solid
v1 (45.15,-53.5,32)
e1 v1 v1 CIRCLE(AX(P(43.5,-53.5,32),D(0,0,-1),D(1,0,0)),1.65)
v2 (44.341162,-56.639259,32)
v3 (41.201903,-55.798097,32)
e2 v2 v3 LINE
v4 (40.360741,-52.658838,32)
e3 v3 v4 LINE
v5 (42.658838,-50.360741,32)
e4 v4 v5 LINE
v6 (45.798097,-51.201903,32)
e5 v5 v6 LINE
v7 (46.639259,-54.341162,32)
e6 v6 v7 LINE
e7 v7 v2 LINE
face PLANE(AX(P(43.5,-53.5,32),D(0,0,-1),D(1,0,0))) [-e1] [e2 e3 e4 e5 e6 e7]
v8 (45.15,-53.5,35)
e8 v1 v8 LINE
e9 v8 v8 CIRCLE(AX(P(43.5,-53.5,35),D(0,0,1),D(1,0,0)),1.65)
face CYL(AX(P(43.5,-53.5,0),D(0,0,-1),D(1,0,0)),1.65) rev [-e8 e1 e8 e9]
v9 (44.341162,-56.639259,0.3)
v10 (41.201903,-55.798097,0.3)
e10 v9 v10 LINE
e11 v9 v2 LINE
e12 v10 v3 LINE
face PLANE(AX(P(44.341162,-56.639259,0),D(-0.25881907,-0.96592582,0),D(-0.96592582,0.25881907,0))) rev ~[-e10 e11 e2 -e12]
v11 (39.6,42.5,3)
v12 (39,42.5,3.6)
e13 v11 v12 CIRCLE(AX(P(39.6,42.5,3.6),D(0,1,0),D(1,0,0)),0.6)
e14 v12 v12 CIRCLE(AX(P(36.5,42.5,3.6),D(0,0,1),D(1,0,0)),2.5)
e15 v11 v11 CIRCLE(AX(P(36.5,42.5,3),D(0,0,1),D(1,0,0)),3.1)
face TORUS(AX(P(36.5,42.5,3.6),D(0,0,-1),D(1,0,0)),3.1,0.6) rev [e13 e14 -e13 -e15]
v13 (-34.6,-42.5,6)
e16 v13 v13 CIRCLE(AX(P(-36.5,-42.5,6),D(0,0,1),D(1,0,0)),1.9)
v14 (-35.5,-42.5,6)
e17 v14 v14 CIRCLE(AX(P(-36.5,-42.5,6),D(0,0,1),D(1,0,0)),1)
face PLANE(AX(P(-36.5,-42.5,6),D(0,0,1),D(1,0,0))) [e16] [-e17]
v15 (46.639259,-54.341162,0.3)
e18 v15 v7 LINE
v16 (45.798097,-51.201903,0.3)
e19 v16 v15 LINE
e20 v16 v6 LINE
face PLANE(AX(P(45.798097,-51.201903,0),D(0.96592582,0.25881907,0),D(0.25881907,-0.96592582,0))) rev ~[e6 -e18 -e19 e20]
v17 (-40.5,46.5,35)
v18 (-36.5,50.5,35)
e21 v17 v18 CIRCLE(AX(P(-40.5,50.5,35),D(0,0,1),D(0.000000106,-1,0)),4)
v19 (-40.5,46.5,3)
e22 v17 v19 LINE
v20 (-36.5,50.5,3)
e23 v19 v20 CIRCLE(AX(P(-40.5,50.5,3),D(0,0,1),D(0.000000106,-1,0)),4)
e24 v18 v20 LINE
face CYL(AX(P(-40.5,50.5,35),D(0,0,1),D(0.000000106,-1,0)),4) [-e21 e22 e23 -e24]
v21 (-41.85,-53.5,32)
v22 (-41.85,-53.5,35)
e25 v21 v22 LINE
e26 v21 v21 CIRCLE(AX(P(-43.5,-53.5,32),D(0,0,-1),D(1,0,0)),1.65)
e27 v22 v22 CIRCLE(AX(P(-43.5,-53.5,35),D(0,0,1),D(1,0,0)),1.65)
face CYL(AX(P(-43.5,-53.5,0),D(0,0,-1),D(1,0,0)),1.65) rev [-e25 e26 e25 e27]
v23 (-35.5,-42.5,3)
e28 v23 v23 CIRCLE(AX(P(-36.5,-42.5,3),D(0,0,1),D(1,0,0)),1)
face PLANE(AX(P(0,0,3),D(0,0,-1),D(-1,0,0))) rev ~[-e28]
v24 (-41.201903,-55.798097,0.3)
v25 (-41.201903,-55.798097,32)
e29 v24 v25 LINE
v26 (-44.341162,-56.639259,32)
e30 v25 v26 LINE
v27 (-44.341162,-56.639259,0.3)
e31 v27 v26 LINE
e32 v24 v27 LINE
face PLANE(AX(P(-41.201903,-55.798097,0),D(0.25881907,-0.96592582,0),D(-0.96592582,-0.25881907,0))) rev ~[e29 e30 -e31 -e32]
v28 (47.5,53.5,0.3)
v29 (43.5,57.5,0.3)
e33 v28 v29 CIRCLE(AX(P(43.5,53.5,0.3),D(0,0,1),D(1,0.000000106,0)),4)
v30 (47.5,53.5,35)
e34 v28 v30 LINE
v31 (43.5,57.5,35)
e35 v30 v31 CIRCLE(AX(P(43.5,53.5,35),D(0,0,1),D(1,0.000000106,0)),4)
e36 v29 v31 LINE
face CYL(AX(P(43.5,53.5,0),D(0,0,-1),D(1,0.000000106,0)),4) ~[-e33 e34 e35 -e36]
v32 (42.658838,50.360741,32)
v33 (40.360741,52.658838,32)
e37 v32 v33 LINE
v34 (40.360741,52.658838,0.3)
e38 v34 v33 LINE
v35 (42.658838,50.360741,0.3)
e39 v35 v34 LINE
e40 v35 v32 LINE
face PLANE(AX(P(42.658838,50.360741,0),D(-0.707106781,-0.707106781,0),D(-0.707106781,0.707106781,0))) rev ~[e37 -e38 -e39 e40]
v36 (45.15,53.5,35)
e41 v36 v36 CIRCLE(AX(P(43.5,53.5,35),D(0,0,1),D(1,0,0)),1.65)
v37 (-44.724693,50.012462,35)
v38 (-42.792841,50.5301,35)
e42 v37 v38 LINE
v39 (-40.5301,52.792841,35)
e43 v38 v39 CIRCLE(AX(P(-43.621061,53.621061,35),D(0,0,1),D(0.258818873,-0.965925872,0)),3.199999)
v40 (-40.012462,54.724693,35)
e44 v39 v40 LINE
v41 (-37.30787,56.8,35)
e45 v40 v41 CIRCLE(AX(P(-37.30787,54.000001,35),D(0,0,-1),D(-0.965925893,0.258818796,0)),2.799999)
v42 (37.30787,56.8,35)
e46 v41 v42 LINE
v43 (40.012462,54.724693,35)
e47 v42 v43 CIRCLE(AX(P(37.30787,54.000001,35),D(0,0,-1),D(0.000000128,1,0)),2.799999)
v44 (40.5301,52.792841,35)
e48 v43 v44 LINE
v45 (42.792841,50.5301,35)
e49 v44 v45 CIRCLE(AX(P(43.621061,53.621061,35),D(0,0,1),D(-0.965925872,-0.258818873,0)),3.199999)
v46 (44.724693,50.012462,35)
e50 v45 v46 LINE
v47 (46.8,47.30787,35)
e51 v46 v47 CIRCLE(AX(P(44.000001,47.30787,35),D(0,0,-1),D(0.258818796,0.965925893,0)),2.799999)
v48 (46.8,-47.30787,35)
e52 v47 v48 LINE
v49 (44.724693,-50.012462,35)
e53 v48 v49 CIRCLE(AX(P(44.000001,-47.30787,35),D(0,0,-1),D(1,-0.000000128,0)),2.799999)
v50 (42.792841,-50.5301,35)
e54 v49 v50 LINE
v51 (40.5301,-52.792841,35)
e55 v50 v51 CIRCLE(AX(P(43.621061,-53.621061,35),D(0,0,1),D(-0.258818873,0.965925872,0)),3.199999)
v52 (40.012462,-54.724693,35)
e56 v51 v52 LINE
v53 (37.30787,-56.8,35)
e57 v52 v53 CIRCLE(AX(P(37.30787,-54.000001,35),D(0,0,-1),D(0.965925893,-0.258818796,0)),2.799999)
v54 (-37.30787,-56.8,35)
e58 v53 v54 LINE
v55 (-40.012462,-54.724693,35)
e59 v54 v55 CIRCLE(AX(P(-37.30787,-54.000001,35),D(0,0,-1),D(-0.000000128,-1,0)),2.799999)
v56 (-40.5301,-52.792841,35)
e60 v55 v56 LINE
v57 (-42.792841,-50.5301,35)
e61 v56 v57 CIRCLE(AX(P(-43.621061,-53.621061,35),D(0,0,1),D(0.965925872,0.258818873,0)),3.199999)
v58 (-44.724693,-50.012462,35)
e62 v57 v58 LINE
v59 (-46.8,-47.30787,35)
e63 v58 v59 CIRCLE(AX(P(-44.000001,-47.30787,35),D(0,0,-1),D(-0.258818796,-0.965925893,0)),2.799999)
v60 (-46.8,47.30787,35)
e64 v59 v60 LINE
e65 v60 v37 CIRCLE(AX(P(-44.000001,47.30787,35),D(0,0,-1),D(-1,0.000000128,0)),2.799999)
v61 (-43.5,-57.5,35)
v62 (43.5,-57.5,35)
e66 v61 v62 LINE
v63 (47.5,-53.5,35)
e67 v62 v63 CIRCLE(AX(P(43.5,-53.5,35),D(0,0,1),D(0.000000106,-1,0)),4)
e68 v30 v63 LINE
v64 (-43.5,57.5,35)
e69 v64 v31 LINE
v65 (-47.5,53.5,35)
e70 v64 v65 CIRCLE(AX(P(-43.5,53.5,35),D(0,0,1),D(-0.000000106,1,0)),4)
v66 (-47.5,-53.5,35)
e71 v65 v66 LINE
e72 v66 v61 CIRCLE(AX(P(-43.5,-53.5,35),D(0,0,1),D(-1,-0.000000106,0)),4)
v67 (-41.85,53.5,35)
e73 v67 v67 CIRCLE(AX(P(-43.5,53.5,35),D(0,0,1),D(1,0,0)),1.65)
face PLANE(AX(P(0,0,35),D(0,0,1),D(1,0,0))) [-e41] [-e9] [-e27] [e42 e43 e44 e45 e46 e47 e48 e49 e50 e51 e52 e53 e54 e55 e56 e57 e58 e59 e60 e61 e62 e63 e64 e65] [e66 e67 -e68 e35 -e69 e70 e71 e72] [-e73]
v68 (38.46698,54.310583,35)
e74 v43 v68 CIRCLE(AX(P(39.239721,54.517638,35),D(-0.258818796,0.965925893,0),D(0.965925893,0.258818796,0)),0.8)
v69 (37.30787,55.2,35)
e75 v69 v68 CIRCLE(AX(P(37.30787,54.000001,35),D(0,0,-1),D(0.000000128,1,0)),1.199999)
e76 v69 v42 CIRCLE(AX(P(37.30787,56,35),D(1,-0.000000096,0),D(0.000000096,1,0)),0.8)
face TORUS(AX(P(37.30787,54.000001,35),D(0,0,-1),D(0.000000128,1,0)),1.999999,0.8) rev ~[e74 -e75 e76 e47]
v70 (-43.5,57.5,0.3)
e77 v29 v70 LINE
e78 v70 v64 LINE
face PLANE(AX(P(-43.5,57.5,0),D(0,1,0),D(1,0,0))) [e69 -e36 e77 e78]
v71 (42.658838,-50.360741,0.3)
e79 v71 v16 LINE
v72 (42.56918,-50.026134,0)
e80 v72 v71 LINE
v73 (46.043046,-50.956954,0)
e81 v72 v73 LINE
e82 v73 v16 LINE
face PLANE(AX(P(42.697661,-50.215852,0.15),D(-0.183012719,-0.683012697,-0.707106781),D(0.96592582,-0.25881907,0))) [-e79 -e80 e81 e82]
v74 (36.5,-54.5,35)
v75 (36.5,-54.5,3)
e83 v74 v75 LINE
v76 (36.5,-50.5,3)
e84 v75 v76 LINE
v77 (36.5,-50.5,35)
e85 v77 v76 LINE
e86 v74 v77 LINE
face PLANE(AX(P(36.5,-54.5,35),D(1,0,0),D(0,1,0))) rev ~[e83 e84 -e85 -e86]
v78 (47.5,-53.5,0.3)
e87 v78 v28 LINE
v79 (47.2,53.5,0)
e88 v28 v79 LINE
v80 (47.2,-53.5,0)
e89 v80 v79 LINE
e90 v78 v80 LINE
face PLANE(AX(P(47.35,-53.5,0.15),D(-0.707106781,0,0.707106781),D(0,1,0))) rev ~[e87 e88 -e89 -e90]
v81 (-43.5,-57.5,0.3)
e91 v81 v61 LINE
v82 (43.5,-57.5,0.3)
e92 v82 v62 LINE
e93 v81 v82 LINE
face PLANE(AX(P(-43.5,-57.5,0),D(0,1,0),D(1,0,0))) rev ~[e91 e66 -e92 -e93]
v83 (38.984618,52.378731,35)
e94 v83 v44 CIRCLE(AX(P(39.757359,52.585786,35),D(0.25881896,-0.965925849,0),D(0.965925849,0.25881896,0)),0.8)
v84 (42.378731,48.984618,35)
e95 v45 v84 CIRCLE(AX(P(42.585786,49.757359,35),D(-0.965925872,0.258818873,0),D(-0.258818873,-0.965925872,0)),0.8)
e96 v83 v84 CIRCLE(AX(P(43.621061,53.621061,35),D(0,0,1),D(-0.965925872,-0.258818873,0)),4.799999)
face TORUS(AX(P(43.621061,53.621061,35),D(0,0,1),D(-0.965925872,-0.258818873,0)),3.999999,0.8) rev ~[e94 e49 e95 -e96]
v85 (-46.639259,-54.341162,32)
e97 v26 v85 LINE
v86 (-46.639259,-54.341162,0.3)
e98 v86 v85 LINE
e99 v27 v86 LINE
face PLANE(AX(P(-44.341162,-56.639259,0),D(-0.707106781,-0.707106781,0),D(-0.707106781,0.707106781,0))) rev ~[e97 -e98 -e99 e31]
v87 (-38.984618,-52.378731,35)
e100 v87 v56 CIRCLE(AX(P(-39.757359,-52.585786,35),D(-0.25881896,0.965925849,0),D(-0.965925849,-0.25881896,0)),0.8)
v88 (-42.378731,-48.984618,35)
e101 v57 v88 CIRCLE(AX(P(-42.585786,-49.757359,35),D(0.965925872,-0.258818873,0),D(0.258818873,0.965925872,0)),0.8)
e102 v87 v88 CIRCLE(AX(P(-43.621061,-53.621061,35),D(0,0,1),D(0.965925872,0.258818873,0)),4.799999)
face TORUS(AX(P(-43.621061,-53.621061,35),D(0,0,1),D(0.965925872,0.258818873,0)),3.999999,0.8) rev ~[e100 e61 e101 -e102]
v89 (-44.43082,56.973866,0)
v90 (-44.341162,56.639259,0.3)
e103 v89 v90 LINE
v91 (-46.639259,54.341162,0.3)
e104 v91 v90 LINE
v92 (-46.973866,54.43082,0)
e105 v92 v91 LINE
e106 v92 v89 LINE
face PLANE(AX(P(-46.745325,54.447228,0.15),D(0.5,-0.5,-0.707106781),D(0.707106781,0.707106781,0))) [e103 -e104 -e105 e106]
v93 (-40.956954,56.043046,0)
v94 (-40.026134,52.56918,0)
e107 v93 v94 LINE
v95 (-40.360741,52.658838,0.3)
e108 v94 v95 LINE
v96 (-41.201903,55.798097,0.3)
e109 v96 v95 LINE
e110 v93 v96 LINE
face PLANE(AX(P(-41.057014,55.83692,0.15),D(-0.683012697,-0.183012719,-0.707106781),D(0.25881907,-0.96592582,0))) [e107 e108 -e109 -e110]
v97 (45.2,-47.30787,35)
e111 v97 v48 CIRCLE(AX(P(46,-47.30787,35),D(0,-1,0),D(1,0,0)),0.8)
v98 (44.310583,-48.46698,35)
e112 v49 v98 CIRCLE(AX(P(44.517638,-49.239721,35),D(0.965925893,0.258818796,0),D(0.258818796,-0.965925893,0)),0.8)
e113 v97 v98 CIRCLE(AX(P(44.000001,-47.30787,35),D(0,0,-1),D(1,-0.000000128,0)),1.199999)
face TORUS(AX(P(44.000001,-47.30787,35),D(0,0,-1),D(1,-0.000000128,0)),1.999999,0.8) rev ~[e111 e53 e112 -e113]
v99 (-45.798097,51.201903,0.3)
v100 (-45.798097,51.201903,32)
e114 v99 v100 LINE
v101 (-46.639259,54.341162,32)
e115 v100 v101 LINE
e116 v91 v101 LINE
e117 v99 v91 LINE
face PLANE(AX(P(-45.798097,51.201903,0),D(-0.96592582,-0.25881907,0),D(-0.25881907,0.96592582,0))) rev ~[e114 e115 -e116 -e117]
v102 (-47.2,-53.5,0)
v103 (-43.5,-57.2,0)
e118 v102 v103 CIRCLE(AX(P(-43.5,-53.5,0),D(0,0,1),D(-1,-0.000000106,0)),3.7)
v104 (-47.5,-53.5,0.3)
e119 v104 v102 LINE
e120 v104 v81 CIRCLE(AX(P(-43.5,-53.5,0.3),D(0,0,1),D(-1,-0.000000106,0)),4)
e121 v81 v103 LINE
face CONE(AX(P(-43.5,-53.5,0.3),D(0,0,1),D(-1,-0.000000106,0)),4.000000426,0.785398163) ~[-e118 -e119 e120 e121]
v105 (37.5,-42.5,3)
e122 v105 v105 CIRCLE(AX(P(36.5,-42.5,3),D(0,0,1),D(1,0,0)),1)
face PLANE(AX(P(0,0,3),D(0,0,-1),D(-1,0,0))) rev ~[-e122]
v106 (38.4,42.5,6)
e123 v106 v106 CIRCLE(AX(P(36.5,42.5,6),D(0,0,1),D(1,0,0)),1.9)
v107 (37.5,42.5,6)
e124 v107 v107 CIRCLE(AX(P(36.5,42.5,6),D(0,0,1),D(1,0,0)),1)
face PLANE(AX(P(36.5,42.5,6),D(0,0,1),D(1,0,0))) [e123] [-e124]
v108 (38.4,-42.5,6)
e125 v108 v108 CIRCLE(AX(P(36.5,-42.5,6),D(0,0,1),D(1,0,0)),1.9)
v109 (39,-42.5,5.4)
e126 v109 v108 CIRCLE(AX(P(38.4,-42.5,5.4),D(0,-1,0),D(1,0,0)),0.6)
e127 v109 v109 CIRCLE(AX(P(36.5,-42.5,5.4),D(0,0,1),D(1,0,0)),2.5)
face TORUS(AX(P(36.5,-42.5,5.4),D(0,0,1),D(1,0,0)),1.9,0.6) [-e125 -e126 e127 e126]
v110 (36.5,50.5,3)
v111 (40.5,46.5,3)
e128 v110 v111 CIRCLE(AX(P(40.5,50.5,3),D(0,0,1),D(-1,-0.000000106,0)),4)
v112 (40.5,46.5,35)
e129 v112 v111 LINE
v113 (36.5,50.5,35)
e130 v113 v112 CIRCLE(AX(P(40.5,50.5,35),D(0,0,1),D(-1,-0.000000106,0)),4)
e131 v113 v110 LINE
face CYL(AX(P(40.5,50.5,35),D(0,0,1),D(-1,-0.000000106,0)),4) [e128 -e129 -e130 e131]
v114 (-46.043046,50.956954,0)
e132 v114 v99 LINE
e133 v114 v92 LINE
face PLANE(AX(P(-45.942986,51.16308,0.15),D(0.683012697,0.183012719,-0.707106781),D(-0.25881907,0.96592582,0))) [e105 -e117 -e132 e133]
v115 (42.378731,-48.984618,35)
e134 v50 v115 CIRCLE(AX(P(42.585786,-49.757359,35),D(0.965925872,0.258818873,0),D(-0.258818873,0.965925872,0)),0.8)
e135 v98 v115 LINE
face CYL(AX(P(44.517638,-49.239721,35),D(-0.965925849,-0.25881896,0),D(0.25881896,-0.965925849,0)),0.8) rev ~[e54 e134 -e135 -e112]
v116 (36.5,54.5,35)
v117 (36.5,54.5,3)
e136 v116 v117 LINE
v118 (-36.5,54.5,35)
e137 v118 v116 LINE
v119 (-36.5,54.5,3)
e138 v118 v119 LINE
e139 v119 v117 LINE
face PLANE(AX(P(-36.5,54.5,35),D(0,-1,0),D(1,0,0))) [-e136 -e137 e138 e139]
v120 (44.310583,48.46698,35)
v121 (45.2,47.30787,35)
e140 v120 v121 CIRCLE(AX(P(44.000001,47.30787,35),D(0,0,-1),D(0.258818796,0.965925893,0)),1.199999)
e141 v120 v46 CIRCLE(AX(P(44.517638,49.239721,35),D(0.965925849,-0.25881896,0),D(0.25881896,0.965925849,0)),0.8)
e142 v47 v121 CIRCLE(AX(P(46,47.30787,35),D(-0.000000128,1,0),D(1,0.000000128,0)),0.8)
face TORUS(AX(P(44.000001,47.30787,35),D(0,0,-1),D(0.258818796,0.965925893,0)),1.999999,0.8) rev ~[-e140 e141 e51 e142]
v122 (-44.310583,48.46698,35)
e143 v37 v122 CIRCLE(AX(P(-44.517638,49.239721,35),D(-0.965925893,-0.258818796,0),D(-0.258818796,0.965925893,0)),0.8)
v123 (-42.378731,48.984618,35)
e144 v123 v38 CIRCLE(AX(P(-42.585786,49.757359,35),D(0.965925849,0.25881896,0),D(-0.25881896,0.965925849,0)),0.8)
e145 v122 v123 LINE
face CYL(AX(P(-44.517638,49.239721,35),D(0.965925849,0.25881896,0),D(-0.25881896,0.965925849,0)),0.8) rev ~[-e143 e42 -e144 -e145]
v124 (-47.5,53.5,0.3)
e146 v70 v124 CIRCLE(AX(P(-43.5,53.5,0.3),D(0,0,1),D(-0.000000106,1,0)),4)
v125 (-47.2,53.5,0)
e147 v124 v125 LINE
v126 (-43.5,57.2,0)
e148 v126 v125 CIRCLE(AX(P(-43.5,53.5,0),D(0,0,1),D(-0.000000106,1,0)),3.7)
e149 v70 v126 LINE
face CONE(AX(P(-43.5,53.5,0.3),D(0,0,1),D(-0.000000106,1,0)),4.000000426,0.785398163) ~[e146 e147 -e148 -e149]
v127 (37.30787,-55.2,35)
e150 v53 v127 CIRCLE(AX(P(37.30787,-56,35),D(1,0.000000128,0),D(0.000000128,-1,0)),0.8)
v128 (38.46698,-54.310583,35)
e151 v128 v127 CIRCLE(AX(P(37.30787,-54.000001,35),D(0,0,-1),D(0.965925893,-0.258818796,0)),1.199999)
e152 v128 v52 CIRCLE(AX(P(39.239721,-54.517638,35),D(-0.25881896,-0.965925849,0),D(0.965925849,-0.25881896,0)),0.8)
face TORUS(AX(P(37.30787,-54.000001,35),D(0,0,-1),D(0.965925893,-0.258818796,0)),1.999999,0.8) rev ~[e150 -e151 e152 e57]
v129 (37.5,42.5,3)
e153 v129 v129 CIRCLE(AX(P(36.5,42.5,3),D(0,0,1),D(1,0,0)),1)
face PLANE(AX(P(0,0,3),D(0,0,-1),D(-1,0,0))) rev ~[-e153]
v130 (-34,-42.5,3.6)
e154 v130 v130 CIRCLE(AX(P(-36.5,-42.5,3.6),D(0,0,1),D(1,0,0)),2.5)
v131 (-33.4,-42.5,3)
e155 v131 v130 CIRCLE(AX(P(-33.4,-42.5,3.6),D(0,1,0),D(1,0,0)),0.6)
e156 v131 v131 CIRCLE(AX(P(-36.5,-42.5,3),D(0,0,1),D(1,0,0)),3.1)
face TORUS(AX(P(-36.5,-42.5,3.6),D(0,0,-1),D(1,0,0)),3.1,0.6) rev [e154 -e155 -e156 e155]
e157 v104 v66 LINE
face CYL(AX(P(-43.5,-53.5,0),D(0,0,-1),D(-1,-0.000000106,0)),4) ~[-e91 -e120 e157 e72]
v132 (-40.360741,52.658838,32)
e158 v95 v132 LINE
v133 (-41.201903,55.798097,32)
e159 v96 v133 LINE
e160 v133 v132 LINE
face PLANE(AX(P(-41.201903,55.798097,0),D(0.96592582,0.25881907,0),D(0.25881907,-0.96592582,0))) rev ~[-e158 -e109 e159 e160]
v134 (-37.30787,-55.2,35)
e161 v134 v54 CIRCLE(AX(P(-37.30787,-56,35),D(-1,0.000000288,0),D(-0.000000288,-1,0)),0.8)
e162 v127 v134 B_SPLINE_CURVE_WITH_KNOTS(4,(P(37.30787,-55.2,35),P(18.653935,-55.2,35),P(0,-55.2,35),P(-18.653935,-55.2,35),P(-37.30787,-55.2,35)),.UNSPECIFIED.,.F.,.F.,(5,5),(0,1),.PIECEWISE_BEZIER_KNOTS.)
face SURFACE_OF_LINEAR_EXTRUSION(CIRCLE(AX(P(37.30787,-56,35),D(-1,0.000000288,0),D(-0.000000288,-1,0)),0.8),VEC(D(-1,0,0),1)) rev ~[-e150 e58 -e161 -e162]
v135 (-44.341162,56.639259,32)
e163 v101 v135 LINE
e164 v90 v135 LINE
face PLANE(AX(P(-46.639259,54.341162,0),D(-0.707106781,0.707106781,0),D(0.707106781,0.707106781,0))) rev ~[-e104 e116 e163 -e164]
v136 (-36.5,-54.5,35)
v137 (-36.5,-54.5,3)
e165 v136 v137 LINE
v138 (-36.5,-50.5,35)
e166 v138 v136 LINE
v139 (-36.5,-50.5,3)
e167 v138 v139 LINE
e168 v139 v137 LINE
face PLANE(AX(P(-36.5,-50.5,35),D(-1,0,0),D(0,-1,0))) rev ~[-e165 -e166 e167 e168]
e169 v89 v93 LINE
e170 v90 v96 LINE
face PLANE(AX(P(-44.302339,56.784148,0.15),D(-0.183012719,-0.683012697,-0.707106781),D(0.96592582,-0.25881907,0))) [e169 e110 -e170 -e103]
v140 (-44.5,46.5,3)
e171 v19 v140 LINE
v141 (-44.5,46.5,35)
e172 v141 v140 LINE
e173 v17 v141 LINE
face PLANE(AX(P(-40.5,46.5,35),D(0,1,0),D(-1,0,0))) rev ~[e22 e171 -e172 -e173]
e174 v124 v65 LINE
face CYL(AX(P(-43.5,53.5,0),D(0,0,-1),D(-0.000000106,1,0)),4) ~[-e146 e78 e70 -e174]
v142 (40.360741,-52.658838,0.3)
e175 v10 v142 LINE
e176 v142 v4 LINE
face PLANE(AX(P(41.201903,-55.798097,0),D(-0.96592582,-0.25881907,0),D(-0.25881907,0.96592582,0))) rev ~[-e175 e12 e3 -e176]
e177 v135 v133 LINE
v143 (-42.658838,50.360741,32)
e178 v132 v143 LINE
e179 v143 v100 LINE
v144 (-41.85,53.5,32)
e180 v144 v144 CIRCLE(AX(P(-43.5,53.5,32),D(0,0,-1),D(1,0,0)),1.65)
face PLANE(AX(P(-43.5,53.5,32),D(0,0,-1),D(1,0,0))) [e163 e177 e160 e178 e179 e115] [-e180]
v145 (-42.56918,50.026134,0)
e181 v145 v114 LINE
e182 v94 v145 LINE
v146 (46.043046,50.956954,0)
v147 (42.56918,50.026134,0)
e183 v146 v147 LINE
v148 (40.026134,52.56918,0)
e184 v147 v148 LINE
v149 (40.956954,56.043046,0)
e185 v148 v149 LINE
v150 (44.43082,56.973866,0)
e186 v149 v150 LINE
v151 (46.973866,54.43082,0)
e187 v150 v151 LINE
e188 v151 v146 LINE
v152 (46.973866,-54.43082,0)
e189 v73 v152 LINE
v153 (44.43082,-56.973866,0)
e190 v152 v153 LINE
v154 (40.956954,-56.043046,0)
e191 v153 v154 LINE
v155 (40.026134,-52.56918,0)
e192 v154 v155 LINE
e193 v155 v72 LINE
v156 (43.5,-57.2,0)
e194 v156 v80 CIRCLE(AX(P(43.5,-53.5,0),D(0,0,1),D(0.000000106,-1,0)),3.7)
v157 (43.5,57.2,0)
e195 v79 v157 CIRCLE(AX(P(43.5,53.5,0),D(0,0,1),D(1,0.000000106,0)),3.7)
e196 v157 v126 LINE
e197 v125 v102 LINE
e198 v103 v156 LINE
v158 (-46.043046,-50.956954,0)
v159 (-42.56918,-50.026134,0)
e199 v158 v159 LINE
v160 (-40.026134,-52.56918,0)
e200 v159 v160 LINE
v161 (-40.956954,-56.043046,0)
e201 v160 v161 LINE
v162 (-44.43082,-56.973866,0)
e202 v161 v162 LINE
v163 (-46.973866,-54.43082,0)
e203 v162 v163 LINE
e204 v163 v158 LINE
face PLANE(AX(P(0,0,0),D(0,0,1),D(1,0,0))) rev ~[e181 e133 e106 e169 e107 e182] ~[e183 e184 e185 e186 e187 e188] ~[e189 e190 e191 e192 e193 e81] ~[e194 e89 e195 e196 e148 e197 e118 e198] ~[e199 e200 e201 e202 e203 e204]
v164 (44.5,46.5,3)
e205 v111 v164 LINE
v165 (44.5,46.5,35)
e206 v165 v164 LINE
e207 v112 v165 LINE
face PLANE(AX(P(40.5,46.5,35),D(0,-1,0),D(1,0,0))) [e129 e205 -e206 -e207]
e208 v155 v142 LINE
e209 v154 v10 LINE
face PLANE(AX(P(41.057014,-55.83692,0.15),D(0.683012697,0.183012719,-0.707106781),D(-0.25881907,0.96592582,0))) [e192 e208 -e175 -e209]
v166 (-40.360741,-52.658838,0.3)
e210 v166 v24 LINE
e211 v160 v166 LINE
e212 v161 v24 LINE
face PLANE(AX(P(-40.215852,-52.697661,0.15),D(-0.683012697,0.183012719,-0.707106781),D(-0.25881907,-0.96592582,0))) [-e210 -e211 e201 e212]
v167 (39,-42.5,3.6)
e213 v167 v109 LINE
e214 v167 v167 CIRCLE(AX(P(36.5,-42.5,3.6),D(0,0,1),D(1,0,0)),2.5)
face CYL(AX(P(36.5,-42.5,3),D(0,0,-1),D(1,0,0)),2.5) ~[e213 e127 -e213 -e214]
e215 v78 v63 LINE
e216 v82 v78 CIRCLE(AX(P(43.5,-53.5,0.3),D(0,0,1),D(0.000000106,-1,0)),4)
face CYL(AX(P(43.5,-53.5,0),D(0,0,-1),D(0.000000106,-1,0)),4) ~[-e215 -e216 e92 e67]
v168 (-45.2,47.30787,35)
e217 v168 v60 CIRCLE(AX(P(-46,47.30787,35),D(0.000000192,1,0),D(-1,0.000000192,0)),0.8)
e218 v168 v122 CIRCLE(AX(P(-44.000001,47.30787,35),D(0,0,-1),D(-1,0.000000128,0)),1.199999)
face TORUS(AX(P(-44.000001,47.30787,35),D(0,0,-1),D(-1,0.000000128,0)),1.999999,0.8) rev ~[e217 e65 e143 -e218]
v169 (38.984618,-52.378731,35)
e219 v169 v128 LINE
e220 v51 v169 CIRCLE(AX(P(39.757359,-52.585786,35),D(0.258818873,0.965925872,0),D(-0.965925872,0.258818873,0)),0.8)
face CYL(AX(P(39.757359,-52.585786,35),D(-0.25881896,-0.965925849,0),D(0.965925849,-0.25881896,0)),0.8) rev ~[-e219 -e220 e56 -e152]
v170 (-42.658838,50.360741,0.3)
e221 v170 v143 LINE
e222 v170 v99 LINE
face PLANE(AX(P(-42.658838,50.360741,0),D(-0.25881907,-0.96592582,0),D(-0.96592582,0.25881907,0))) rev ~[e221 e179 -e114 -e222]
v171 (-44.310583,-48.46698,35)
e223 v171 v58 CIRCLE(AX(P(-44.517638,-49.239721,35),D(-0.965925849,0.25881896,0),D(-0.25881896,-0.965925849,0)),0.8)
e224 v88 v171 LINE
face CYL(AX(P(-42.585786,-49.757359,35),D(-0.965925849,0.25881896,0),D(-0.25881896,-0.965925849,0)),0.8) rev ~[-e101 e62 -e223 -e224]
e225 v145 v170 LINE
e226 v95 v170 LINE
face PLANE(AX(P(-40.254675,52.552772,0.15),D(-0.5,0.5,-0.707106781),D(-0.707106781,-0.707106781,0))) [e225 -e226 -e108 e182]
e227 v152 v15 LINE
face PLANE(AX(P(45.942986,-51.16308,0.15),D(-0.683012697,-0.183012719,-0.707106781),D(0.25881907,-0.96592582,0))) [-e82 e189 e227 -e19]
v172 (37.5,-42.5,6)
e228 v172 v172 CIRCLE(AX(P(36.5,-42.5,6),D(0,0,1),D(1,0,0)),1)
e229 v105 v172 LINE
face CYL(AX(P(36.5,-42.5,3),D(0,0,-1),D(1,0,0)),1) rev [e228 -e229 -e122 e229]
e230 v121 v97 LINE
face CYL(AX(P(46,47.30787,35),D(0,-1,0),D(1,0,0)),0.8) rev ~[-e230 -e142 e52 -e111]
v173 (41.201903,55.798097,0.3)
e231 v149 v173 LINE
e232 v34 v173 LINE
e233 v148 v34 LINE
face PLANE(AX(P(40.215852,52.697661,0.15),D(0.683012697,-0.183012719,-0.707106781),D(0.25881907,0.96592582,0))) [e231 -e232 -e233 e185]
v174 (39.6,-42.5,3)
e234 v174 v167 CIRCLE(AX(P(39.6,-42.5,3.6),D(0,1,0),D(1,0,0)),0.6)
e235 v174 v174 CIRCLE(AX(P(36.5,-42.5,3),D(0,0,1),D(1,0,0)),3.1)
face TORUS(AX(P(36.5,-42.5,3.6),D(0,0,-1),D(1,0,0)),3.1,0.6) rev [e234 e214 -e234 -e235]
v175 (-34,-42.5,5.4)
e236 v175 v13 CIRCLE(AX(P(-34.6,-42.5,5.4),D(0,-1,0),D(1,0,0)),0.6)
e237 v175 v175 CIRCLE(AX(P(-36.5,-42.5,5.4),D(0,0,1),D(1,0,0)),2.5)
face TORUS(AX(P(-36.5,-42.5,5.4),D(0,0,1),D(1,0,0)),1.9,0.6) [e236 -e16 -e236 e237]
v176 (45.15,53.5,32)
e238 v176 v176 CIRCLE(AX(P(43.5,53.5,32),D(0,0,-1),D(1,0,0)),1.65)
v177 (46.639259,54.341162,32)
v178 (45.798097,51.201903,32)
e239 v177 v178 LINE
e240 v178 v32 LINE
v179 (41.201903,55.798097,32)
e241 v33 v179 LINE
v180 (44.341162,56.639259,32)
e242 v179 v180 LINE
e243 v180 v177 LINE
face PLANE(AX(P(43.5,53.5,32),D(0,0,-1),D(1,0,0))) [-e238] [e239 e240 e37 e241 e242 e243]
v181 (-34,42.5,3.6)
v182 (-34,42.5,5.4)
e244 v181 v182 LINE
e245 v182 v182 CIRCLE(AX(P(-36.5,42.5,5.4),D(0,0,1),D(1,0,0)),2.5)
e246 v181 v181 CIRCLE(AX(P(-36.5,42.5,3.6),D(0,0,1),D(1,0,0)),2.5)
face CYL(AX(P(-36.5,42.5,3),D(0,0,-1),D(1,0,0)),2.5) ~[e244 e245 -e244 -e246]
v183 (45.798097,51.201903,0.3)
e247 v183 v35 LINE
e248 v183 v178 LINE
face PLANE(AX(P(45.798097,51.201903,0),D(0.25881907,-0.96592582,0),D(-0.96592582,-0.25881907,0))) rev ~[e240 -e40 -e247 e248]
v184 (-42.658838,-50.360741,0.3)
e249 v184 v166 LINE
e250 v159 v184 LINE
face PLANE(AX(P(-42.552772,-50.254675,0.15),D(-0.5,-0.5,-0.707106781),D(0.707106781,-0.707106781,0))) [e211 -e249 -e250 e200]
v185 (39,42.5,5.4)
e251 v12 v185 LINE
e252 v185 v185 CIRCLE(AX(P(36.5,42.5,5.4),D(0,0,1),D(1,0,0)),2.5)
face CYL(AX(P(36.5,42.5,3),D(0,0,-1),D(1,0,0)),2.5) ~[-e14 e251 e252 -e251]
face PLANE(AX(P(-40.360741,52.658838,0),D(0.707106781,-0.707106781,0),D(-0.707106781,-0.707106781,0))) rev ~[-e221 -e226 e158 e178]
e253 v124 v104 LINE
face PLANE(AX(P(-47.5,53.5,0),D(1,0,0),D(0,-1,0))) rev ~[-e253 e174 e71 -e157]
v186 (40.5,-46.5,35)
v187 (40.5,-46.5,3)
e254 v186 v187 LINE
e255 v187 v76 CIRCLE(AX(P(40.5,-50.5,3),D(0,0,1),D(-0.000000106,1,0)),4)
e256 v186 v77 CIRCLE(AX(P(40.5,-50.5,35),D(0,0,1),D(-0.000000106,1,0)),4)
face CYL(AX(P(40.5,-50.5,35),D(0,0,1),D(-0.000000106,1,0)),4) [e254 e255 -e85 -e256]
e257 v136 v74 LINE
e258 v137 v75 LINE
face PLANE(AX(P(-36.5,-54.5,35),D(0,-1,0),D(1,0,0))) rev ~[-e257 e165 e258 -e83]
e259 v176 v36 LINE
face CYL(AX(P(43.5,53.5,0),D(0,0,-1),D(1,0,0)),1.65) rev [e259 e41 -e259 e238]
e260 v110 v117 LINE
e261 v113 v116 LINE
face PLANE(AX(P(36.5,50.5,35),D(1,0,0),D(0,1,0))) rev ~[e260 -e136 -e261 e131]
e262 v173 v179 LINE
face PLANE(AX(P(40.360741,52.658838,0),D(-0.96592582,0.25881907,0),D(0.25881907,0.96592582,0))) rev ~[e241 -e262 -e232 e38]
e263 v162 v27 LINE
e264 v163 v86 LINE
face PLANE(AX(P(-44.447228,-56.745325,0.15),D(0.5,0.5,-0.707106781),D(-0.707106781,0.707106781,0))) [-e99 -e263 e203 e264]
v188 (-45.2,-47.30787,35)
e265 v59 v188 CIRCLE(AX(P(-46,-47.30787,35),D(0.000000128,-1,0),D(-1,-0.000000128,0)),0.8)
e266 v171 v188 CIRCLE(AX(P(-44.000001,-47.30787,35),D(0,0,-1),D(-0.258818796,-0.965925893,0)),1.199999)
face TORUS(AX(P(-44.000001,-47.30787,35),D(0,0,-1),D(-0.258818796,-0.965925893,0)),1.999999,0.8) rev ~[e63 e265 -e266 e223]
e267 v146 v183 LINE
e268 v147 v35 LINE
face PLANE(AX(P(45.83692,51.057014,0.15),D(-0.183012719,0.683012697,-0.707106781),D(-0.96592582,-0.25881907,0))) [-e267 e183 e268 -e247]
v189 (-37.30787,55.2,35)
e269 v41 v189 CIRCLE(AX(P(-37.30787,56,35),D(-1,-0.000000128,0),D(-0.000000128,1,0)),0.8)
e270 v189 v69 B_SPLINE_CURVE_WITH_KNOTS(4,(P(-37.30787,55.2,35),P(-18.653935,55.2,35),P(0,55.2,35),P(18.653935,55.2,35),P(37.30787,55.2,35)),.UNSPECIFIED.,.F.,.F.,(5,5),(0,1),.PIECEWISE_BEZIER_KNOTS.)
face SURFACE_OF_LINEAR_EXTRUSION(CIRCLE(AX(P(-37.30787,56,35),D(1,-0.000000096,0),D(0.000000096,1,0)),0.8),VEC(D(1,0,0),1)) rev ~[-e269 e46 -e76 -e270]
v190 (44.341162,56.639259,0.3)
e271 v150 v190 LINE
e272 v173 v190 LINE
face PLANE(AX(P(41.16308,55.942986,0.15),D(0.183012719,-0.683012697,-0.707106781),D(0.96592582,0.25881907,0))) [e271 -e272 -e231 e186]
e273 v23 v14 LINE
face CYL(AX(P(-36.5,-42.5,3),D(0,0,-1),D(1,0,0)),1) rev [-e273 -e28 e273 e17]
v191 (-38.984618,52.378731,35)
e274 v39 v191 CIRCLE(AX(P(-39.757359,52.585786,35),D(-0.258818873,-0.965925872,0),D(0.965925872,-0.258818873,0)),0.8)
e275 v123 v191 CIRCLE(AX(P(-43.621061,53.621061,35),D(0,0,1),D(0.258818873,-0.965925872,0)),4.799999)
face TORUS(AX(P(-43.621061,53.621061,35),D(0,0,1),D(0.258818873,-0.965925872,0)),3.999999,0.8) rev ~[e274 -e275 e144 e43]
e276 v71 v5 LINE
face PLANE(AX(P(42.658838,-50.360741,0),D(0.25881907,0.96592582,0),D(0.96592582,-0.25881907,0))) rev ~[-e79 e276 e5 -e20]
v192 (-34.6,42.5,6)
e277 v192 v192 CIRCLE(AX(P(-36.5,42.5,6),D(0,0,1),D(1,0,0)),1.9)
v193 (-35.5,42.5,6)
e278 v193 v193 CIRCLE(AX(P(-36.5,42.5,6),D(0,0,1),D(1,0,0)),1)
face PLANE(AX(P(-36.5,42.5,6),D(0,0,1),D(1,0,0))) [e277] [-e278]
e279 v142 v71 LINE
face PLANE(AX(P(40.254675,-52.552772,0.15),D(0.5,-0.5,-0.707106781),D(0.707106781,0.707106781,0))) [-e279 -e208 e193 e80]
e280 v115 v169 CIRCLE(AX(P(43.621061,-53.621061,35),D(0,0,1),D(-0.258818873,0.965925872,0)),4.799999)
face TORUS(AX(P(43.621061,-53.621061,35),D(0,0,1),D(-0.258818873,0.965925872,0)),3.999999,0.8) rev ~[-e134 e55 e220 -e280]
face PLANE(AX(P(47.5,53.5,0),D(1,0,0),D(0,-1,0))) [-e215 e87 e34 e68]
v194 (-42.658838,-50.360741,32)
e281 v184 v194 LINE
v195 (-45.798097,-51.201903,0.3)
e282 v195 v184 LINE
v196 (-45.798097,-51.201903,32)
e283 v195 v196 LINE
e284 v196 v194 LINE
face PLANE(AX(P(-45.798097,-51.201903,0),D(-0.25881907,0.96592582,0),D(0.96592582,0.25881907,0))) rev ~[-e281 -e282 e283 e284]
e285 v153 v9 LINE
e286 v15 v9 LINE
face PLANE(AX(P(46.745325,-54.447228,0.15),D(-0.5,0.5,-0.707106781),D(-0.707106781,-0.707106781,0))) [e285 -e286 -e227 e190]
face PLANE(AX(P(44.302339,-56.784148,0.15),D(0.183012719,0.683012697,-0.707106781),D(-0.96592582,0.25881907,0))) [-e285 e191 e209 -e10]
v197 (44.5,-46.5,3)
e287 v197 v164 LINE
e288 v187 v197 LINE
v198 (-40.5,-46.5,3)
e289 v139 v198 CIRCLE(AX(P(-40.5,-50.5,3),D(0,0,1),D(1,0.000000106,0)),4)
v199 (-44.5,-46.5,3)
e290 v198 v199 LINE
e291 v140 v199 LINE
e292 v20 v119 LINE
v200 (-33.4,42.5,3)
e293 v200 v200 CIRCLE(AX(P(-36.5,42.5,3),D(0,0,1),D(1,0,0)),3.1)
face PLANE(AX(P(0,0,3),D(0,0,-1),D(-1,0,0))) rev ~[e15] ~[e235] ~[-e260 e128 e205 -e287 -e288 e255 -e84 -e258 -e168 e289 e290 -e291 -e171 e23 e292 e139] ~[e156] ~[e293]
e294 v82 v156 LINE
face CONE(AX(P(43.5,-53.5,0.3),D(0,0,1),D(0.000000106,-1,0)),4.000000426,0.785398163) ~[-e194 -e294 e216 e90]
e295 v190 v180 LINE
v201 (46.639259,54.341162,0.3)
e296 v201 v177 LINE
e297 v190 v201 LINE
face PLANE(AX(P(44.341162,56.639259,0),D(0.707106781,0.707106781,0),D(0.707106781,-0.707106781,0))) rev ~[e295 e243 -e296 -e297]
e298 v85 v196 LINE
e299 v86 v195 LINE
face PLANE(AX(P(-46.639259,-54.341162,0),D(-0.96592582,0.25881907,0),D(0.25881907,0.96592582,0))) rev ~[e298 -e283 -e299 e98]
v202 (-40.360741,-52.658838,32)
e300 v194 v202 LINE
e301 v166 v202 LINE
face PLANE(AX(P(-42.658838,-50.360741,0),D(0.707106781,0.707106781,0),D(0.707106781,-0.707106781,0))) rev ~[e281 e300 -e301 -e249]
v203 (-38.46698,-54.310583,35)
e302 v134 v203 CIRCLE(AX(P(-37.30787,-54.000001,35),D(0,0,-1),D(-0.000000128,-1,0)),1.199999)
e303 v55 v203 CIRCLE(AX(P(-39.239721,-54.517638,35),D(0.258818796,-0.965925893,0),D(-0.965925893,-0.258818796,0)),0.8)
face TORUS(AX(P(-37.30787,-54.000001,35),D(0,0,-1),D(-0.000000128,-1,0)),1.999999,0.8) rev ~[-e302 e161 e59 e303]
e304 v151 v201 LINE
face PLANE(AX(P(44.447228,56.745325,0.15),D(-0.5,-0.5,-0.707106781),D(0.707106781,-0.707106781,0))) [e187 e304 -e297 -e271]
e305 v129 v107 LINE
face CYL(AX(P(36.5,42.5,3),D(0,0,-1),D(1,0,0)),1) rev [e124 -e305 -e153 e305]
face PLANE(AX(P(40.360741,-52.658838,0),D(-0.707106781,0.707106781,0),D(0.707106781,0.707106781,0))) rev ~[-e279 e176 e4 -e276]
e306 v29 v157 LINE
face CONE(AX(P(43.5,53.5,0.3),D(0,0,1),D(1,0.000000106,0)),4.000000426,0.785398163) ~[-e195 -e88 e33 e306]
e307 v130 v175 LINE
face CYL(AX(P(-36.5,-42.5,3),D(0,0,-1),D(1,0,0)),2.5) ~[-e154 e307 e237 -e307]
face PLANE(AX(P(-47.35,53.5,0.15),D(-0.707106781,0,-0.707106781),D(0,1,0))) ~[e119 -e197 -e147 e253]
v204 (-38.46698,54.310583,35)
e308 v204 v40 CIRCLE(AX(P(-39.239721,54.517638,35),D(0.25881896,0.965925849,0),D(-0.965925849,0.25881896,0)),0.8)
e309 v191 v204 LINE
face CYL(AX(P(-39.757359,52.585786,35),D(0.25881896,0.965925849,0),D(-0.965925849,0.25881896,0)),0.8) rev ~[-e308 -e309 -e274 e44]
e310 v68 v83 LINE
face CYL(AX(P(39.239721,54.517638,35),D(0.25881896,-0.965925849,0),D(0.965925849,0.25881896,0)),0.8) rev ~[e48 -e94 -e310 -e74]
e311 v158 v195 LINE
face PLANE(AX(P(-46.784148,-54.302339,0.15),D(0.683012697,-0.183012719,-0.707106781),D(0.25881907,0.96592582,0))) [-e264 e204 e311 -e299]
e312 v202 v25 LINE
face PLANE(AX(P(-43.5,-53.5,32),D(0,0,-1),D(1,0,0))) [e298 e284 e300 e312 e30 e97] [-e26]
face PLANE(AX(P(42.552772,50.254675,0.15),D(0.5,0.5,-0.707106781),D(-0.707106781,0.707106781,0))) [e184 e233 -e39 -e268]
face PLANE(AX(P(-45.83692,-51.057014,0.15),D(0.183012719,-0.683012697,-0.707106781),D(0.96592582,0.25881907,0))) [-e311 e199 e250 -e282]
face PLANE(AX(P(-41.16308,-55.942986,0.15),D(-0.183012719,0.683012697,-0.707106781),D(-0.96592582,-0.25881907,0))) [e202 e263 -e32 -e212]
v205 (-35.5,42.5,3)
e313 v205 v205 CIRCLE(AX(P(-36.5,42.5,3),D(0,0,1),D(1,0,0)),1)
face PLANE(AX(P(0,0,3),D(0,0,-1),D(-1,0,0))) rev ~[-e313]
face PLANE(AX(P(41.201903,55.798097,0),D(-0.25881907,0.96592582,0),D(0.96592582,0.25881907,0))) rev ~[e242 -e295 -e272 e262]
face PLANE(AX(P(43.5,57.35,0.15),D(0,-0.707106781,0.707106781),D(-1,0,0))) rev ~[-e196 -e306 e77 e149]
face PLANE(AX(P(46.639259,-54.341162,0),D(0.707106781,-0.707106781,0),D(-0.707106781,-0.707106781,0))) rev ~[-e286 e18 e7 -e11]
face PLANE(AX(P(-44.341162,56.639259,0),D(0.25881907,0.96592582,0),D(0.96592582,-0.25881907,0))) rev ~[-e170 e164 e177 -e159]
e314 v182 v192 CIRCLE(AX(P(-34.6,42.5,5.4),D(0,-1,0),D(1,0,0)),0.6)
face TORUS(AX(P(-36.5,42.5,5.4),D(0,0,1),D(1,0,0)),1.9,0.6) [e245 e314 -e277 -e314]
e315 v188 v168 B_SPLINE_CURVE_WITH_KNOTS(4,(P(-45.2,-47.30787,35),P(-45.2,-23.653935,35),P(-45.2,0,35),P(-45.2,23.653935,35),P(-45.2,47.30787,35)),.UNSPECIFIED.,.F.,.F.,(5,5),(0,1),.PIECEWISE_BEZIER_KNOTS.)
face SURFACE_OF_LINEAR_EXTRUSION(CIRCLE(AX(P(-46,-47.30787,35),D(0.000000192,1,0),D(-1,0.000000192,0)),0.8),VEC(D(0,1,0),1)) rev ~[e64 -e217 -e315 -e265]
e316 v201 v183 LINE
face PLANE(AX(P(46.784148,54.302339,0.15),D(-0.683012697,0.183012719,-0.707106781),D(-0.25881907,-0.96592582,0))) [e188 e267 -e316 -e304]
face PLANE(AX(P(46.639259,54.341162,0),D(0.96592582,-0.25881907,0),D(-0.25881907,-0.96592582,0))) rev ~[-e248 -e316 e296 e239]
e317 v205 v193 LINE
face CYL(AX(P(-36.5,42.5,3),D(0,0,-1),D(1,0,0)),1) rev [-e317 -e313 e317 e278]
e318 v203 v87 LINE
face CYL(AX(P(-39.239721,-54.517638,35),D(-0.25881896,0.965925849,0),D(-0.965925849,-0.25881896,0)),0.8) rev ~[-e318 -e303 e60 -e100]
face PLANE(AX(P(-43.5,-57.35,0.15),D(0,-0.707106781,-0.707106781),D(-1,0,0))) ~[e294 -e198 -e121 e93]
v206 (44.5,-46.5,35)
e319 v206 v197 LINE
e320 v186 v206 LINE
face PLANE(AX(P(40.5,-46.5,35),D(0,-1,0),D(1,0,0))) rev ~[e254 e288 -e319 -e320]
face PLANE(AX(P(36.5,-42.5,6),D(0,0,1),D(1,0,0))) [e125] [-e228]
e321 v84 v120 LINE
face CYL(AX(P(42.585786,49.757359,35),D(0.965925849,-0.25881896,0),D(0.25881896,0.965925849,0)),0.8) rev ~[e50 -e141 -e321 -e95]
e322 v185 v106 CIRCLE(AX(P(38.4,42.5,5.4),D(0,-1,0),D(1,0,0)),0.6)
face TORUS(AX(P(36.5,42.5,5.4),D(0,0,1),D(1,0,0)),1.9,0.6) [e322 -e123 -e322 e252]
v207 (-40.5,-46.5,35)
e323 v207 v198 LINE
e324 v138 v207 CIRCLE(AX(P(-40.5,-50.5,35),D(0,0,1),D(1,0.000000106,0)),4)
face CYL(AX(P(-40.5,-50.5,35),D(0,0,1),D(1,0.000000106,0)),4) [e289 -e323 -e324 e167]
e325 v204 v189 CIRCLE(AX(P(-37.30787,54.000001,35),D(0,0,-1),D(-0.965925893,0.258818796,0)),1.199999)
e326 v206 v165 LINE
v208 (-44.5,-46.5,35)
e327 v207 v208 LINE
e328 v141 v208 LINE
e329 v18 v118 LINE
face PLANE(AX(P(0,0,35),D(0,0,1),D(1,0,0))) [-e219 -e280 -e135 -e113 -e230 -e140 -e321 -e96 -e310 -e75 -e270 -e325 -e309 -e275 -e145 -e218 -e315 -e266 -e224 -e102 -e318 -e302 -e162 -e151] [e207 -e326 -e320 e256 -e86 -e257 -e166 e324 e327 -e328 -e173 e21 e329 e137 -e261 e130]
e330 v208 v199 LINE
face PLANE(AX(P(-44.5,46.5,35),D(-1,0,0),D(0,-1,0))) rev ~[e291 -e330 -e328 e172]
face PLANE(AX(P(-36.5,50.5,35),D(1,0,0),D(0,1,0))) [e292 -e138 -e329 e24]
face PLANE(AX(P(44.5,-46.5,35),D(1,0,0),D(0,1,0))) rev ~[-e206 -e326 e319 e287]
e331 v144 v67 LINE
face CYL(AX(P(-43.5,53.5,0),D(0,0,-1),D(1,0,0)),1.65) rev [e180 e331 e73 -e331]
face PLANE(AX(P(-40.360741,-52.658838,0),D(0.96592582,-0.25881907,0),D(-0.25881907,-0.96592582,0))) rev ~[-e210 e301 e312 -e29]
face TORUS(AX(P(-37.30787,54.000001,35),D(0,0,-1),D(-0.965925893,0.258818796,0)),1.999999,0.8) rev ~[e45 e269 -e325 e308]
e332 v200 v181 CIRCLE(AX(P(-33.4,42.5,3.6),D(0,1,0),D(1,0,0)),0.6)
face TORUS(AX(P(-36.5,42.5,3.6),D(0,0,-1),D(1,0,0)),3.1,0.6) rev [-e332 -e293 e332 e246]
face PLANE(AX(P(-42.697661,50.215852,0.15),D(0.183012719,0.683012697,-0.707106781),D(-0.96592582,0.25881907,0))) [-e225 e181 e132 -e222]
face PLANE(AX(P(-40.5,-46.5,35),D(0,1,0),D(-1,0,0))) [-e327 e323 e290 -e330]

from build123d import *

# Parameters (mm, degrees)
SKETCH_R        = 1.65
PAD_DEPTH       = 35
POCKET_DEPTH    = 32
SKETCH004_R     = 0.8
POCKET002_DEPTH = 32
SKETCH010_R     = 2.5
SKETCH010_R_2   = 1
PAD002_DEPTH    = 3
FILLET_R        = 0.6
CHAMFER001_SIZE = 0.3


with BuildPart() as part:
    # Sketch → Pad (new body)
    with BuildSketch(Plane.XY):
        with BuildLine():
            Line((-47.5, 53.5), (-47.5, -53.5))
            ThreePointArc((-47.5, -53.5), (-46.328427, -56.328427), (-43.5, -57.5))
            Line((-43.5, -57.5), (43.5, -57.5))
            ThreePointArc((43.5, -57.5), (46.328427, -56.328427), (47.5, -53.5))
            Line((47.5, 53.5), (47.5, -53.5))
            ThreePointArc((47.5, 53.5), (46.328427, 56.328427), (43.5, 57.5))
            Line((-43.5, 57.5), (43.5, 57.5))
            ThreePointArc((-43.5, 57.5), (-46.328427, 56.328427), (-47.5, 53.5))
        make_face()
        with Locations((-43.5, 53.5)):
            Circle(SKETCH_R, mode=Mode.SUBTRACT)
        with Locations((43.5, -53.5)):
            Circle(SKETCH_R, mode=Mode.SUBTRACT)
        with Locations((-43.5, -53.5)):
            Circle(SKETCH_R, mode=Mode.SUBTRACT)
        with Locations((43.5, 53.5)):
            Circle(SKETCH_R, mode=Mode.SUBTRACT)
    extrude(amount=PAD_DEPTH)

    # Sketch001 (on Face14 of Pad) → Pocket (cut)
    with BuildSketch(Plane.XY.offset(35)):
        with BuildLine():
            ThreePointArc((-40.5, 46.5), (-37.671573, 47.671573), (-36.5, 50.5))
            Line((-36.5, 50.5), (-36.5, 54.5))
            Line((-36.5, 54.5), (36.5, 54.5))
            Line((36.5, 50.5), (36.5, 54.5))
            ThreePointArc((36.5, 50.5), (37.671573, 47.671573), (40.5, 46.5))
            Line((40.5, 46.5), (44.5, 46.5))
            Line((44.5, -46.5), (44.5, 46.5))
            Line((40.5, -46.5), (44.5, -46.5))
            ThreePointArc((40.5, -46.5), (37.671573, -47.671573), (36.5, -50.5))
            Line((36.5, -54.5), (36.5, -50.5))
            Line((-36.5, -54.5), (36.5, -54.5))
            Line((-36.5, -50.5), (-36.5, -54.5))
            ThreePointArc((-36.5, -50.5), (-37.671573, -47.671573), (-40.5, -46.5))
            Line((-40.5, -46.5), (-44.5, -46.5))
            Line((-44.5, 46.5), (-44.5, -46.5))
            Line((-40.5, 46.5), (-44.5, 46.5))
        make_face()
    extrude(amount=-POCKET_DEPTH, mode=Mode.SUBTRACT)

    # SubtractivePipe: sweep along a path in Sketch003
    with BuildLine(Plane.XY) as subtractivepipe_path:
        ThreePointArc((42.585786, -49.757359), (40.792635, -50.792635), (39.757359, -52.585786))
        Line((39.757359, -52.585786), (39.239721, -54.517638))
        ThreePointArc((39.239721, -54.517638), (38.525392, -55.586707), (37.30787, -56))
        Line((37.30787, -56), (-37.30787, -56))
        ThreePointArc((-37.30787, -56), (-38.525392, -55.586707), (-39.239721, -54.517638))
        Line((-39.239721, -54.517638), (-39.757359, -52.585786))
        ThreePointArc((-39.757359, -52.585786), (-40.792635, -50.792635), (-42.585786, -49.757359))
        Line((-42.585786, -49.757359), (-44.517638, -49.239721))
        ThreePointArc((-44.517638, -49.239721), (-45.586707, -48.525392), (-46, -47.30787))
        Line((-46, -47.30787), (-46, 47.30787))
        ThreePointArc((-46, 47.30787), (-45.586707, 48.525392), (-44.517638, 49.239721))
        Line((-44.517638, 49.239721), (-42.585786, 49.757359))
        ThreePointArc((-42.585786, 49.757359), (-40.792635, 50.792635), (-39.757359, 52.585786))
        Line((-39.757359, 52.585786), (-39.239721, 54.517638))
        ThreePointArc((-39.239721, 54.517638), (-38.525392, 55.586707), (-37.30787, 56))
        Line((-37.30787, 56), (37.30787, 56))
        ThreePointArc((37.30787, 56), (38.525392, 55.586707), (39.239721, 54.517638))
        Line((39.239721, 54.517638), (39.757359, 52.585786))
        ThreePointArc((39.757359, 52.585786), (40.792635, 50.792635), (42.585786, 49.757359))
        Line((42.585786, 49.757359), (44.517638, 49.239721))
        ThreePointArc((44.517638, 49.239721), (45.586707, 48.525392), (46, 47.30787))
        Line((46, 47.30787), (46, -47.30787))
        ThreePointArc((46, -47.30787), (45.586707, -48.525392), (44.517638, -49.239721))
        Line((44.517638, -49.239721), (42.585786, -49.757359))
    # Sketch004 → SubtractivePipe (sweep, cut)
    with BuildSketch(Plane.XZ):
        with Locations((46, 35)):
            Circle(SKETCH004_R)
    sweep(path=subtractivepipe_path.line, mode=Mode.SUBTRACT)

    # Sketch009 (on Face4 of SubtractivePipe) → Pocket002 (cut)
    with BuildSketch(Plane(origin=(0, 0, 0), x_dir=(1, 0, 0), z_dir=(0, 0, -1))):
        Polygon((-42.658838, 50.360741), (-40.360741, 52.658838), (-41.201903, 55.798097), (-44.341162, 56.639259), (-46.639259, 54.341162), (-45.798097, 51.201903), align=None)
        Polygon((45.798097, 51.201903), (46.639259, 54.341162), (44.341162, 56.639259), (41.201903, 55.798097), (40.360741, 52.658838), (42.658838, 50.360741), align=None)
        Polygon((-40.360741, -52.658838), (-42.658838, -50.360741), (-45.798097, -51.201903), (-46.639259, -54.341162), (-44.341162, -56.639259), (-41.201903, -55.798097), align=None)
        Polygon((46.639259, -54.341162), (45.798097, -51.201903), (42.658838, -50.360741), (40.360741, -52.658838), (41.201903, -55.798097), (44.341162, -56.639259), align=None)
    extrude(amount=-POCKET002_DEPTH, mode=Mode.SUBTRACT)

    # Sketch010 (on Face84 of Pocket002) → Pad002 (join)
    with BuildSketch(Plane.XY.offset(3)):
        with Locations((-36.5, 42.5)):
            Circle(SKETCH010_R)
        with Locations((-36.5, 42.5)):
            Circle(SKETCH010_R_2, mode=Mode.SUBTRACT)
        with Locations((36.5, 42.5)):
            Circle(SKETCH010_R)
        with Locations((36.5, 42.5)):
            Circle(SKETCH010_R_2, mode=Mode.SUBTRACT)
        with Locations((-36.5, -42.5)):
            Circle(SKETCH010_R)
        with Locations((-36.5, -42.5)):
            Circle(SKETCH010_R_2, mode=Mode.SUBTRACT)
        with Locations((36.5, -42.5)):
            Circle(SKETCH010_R)
        with Locations((36.5, -42.5)):
            Circle(SKETCH010_R_2, mode=Mode.SUBTRACT)
    extrude(amount=PAD002_DEPTH)

    # Fillet
    fillet_edges = [part.edges().sort_by_distance(p)[0] for p in [
        (34, -42.5, 3),
        (34, -42.5, 6),
        (-39, -42.5, 6),
        (-39, -42.5, 3),
        (-39, 42.5, 3),
        (-39, 42.5, 6),
        (34, 42.5, 6),
        (34, 42.5, 3),
    ]]
    fillet(fillet_edges, radius=FILLET_R)

    # Chamfer001
    chamfer001_edges = [part.edges().sort_by_distance(p)[0] for p in [
        (-46.328427, 56.328427, 0),
        (0, 57.5, 0),
        (-47.5, 0, 0),
        (46.328427, 56.328427, 0),
        (-46.328427, -56.328427, 0),
        (47.5, 0, 0),
        (0, -57.5, 0),
        (46.328427, -56.328427, 0),
        (-44.228468, -50.781322, 0),
        (-46.218678, -52.771532, 0),
        (-45.49021, -55.49021, 0),
        (-42.771532, -56.218678, 0),
        (-40.781322, -54.228468, 0),
        (-41.50979, -51.50979, 0),
        (44.228468, -50.781322, 0),
        (41.50979, -51.50979, 0),
        (40.781322, -54.228468, 0),
        (42.771532, -56.218678, 0),
        (45.49021, -55.49021, 0),
        (46.218678, -52.771532, 0),
        (-40.781322, 54.228468, 0),
        (-42.771532, 56.218678, 0),
        (-45.49021, 55.49021, 0),
        (-46.218678, 52.771532, 0),
        (-44.228468, 50.781322, 0),
        (-41.50979, 51.50979, 0),
        (44.228468, 50.781322, 0),
        (46.218678, 52.771532, 0),
        (45.49021, 55.49021, 0),
        (42.771532, 56.218678, 0),
        (40.781322, 54.228468, 0),
        (41.50979, 51.50979, 0),
    ]]
    chamfer(chamfer001_edges, length=CHAMFER001_SIZE)


solid = part.part
